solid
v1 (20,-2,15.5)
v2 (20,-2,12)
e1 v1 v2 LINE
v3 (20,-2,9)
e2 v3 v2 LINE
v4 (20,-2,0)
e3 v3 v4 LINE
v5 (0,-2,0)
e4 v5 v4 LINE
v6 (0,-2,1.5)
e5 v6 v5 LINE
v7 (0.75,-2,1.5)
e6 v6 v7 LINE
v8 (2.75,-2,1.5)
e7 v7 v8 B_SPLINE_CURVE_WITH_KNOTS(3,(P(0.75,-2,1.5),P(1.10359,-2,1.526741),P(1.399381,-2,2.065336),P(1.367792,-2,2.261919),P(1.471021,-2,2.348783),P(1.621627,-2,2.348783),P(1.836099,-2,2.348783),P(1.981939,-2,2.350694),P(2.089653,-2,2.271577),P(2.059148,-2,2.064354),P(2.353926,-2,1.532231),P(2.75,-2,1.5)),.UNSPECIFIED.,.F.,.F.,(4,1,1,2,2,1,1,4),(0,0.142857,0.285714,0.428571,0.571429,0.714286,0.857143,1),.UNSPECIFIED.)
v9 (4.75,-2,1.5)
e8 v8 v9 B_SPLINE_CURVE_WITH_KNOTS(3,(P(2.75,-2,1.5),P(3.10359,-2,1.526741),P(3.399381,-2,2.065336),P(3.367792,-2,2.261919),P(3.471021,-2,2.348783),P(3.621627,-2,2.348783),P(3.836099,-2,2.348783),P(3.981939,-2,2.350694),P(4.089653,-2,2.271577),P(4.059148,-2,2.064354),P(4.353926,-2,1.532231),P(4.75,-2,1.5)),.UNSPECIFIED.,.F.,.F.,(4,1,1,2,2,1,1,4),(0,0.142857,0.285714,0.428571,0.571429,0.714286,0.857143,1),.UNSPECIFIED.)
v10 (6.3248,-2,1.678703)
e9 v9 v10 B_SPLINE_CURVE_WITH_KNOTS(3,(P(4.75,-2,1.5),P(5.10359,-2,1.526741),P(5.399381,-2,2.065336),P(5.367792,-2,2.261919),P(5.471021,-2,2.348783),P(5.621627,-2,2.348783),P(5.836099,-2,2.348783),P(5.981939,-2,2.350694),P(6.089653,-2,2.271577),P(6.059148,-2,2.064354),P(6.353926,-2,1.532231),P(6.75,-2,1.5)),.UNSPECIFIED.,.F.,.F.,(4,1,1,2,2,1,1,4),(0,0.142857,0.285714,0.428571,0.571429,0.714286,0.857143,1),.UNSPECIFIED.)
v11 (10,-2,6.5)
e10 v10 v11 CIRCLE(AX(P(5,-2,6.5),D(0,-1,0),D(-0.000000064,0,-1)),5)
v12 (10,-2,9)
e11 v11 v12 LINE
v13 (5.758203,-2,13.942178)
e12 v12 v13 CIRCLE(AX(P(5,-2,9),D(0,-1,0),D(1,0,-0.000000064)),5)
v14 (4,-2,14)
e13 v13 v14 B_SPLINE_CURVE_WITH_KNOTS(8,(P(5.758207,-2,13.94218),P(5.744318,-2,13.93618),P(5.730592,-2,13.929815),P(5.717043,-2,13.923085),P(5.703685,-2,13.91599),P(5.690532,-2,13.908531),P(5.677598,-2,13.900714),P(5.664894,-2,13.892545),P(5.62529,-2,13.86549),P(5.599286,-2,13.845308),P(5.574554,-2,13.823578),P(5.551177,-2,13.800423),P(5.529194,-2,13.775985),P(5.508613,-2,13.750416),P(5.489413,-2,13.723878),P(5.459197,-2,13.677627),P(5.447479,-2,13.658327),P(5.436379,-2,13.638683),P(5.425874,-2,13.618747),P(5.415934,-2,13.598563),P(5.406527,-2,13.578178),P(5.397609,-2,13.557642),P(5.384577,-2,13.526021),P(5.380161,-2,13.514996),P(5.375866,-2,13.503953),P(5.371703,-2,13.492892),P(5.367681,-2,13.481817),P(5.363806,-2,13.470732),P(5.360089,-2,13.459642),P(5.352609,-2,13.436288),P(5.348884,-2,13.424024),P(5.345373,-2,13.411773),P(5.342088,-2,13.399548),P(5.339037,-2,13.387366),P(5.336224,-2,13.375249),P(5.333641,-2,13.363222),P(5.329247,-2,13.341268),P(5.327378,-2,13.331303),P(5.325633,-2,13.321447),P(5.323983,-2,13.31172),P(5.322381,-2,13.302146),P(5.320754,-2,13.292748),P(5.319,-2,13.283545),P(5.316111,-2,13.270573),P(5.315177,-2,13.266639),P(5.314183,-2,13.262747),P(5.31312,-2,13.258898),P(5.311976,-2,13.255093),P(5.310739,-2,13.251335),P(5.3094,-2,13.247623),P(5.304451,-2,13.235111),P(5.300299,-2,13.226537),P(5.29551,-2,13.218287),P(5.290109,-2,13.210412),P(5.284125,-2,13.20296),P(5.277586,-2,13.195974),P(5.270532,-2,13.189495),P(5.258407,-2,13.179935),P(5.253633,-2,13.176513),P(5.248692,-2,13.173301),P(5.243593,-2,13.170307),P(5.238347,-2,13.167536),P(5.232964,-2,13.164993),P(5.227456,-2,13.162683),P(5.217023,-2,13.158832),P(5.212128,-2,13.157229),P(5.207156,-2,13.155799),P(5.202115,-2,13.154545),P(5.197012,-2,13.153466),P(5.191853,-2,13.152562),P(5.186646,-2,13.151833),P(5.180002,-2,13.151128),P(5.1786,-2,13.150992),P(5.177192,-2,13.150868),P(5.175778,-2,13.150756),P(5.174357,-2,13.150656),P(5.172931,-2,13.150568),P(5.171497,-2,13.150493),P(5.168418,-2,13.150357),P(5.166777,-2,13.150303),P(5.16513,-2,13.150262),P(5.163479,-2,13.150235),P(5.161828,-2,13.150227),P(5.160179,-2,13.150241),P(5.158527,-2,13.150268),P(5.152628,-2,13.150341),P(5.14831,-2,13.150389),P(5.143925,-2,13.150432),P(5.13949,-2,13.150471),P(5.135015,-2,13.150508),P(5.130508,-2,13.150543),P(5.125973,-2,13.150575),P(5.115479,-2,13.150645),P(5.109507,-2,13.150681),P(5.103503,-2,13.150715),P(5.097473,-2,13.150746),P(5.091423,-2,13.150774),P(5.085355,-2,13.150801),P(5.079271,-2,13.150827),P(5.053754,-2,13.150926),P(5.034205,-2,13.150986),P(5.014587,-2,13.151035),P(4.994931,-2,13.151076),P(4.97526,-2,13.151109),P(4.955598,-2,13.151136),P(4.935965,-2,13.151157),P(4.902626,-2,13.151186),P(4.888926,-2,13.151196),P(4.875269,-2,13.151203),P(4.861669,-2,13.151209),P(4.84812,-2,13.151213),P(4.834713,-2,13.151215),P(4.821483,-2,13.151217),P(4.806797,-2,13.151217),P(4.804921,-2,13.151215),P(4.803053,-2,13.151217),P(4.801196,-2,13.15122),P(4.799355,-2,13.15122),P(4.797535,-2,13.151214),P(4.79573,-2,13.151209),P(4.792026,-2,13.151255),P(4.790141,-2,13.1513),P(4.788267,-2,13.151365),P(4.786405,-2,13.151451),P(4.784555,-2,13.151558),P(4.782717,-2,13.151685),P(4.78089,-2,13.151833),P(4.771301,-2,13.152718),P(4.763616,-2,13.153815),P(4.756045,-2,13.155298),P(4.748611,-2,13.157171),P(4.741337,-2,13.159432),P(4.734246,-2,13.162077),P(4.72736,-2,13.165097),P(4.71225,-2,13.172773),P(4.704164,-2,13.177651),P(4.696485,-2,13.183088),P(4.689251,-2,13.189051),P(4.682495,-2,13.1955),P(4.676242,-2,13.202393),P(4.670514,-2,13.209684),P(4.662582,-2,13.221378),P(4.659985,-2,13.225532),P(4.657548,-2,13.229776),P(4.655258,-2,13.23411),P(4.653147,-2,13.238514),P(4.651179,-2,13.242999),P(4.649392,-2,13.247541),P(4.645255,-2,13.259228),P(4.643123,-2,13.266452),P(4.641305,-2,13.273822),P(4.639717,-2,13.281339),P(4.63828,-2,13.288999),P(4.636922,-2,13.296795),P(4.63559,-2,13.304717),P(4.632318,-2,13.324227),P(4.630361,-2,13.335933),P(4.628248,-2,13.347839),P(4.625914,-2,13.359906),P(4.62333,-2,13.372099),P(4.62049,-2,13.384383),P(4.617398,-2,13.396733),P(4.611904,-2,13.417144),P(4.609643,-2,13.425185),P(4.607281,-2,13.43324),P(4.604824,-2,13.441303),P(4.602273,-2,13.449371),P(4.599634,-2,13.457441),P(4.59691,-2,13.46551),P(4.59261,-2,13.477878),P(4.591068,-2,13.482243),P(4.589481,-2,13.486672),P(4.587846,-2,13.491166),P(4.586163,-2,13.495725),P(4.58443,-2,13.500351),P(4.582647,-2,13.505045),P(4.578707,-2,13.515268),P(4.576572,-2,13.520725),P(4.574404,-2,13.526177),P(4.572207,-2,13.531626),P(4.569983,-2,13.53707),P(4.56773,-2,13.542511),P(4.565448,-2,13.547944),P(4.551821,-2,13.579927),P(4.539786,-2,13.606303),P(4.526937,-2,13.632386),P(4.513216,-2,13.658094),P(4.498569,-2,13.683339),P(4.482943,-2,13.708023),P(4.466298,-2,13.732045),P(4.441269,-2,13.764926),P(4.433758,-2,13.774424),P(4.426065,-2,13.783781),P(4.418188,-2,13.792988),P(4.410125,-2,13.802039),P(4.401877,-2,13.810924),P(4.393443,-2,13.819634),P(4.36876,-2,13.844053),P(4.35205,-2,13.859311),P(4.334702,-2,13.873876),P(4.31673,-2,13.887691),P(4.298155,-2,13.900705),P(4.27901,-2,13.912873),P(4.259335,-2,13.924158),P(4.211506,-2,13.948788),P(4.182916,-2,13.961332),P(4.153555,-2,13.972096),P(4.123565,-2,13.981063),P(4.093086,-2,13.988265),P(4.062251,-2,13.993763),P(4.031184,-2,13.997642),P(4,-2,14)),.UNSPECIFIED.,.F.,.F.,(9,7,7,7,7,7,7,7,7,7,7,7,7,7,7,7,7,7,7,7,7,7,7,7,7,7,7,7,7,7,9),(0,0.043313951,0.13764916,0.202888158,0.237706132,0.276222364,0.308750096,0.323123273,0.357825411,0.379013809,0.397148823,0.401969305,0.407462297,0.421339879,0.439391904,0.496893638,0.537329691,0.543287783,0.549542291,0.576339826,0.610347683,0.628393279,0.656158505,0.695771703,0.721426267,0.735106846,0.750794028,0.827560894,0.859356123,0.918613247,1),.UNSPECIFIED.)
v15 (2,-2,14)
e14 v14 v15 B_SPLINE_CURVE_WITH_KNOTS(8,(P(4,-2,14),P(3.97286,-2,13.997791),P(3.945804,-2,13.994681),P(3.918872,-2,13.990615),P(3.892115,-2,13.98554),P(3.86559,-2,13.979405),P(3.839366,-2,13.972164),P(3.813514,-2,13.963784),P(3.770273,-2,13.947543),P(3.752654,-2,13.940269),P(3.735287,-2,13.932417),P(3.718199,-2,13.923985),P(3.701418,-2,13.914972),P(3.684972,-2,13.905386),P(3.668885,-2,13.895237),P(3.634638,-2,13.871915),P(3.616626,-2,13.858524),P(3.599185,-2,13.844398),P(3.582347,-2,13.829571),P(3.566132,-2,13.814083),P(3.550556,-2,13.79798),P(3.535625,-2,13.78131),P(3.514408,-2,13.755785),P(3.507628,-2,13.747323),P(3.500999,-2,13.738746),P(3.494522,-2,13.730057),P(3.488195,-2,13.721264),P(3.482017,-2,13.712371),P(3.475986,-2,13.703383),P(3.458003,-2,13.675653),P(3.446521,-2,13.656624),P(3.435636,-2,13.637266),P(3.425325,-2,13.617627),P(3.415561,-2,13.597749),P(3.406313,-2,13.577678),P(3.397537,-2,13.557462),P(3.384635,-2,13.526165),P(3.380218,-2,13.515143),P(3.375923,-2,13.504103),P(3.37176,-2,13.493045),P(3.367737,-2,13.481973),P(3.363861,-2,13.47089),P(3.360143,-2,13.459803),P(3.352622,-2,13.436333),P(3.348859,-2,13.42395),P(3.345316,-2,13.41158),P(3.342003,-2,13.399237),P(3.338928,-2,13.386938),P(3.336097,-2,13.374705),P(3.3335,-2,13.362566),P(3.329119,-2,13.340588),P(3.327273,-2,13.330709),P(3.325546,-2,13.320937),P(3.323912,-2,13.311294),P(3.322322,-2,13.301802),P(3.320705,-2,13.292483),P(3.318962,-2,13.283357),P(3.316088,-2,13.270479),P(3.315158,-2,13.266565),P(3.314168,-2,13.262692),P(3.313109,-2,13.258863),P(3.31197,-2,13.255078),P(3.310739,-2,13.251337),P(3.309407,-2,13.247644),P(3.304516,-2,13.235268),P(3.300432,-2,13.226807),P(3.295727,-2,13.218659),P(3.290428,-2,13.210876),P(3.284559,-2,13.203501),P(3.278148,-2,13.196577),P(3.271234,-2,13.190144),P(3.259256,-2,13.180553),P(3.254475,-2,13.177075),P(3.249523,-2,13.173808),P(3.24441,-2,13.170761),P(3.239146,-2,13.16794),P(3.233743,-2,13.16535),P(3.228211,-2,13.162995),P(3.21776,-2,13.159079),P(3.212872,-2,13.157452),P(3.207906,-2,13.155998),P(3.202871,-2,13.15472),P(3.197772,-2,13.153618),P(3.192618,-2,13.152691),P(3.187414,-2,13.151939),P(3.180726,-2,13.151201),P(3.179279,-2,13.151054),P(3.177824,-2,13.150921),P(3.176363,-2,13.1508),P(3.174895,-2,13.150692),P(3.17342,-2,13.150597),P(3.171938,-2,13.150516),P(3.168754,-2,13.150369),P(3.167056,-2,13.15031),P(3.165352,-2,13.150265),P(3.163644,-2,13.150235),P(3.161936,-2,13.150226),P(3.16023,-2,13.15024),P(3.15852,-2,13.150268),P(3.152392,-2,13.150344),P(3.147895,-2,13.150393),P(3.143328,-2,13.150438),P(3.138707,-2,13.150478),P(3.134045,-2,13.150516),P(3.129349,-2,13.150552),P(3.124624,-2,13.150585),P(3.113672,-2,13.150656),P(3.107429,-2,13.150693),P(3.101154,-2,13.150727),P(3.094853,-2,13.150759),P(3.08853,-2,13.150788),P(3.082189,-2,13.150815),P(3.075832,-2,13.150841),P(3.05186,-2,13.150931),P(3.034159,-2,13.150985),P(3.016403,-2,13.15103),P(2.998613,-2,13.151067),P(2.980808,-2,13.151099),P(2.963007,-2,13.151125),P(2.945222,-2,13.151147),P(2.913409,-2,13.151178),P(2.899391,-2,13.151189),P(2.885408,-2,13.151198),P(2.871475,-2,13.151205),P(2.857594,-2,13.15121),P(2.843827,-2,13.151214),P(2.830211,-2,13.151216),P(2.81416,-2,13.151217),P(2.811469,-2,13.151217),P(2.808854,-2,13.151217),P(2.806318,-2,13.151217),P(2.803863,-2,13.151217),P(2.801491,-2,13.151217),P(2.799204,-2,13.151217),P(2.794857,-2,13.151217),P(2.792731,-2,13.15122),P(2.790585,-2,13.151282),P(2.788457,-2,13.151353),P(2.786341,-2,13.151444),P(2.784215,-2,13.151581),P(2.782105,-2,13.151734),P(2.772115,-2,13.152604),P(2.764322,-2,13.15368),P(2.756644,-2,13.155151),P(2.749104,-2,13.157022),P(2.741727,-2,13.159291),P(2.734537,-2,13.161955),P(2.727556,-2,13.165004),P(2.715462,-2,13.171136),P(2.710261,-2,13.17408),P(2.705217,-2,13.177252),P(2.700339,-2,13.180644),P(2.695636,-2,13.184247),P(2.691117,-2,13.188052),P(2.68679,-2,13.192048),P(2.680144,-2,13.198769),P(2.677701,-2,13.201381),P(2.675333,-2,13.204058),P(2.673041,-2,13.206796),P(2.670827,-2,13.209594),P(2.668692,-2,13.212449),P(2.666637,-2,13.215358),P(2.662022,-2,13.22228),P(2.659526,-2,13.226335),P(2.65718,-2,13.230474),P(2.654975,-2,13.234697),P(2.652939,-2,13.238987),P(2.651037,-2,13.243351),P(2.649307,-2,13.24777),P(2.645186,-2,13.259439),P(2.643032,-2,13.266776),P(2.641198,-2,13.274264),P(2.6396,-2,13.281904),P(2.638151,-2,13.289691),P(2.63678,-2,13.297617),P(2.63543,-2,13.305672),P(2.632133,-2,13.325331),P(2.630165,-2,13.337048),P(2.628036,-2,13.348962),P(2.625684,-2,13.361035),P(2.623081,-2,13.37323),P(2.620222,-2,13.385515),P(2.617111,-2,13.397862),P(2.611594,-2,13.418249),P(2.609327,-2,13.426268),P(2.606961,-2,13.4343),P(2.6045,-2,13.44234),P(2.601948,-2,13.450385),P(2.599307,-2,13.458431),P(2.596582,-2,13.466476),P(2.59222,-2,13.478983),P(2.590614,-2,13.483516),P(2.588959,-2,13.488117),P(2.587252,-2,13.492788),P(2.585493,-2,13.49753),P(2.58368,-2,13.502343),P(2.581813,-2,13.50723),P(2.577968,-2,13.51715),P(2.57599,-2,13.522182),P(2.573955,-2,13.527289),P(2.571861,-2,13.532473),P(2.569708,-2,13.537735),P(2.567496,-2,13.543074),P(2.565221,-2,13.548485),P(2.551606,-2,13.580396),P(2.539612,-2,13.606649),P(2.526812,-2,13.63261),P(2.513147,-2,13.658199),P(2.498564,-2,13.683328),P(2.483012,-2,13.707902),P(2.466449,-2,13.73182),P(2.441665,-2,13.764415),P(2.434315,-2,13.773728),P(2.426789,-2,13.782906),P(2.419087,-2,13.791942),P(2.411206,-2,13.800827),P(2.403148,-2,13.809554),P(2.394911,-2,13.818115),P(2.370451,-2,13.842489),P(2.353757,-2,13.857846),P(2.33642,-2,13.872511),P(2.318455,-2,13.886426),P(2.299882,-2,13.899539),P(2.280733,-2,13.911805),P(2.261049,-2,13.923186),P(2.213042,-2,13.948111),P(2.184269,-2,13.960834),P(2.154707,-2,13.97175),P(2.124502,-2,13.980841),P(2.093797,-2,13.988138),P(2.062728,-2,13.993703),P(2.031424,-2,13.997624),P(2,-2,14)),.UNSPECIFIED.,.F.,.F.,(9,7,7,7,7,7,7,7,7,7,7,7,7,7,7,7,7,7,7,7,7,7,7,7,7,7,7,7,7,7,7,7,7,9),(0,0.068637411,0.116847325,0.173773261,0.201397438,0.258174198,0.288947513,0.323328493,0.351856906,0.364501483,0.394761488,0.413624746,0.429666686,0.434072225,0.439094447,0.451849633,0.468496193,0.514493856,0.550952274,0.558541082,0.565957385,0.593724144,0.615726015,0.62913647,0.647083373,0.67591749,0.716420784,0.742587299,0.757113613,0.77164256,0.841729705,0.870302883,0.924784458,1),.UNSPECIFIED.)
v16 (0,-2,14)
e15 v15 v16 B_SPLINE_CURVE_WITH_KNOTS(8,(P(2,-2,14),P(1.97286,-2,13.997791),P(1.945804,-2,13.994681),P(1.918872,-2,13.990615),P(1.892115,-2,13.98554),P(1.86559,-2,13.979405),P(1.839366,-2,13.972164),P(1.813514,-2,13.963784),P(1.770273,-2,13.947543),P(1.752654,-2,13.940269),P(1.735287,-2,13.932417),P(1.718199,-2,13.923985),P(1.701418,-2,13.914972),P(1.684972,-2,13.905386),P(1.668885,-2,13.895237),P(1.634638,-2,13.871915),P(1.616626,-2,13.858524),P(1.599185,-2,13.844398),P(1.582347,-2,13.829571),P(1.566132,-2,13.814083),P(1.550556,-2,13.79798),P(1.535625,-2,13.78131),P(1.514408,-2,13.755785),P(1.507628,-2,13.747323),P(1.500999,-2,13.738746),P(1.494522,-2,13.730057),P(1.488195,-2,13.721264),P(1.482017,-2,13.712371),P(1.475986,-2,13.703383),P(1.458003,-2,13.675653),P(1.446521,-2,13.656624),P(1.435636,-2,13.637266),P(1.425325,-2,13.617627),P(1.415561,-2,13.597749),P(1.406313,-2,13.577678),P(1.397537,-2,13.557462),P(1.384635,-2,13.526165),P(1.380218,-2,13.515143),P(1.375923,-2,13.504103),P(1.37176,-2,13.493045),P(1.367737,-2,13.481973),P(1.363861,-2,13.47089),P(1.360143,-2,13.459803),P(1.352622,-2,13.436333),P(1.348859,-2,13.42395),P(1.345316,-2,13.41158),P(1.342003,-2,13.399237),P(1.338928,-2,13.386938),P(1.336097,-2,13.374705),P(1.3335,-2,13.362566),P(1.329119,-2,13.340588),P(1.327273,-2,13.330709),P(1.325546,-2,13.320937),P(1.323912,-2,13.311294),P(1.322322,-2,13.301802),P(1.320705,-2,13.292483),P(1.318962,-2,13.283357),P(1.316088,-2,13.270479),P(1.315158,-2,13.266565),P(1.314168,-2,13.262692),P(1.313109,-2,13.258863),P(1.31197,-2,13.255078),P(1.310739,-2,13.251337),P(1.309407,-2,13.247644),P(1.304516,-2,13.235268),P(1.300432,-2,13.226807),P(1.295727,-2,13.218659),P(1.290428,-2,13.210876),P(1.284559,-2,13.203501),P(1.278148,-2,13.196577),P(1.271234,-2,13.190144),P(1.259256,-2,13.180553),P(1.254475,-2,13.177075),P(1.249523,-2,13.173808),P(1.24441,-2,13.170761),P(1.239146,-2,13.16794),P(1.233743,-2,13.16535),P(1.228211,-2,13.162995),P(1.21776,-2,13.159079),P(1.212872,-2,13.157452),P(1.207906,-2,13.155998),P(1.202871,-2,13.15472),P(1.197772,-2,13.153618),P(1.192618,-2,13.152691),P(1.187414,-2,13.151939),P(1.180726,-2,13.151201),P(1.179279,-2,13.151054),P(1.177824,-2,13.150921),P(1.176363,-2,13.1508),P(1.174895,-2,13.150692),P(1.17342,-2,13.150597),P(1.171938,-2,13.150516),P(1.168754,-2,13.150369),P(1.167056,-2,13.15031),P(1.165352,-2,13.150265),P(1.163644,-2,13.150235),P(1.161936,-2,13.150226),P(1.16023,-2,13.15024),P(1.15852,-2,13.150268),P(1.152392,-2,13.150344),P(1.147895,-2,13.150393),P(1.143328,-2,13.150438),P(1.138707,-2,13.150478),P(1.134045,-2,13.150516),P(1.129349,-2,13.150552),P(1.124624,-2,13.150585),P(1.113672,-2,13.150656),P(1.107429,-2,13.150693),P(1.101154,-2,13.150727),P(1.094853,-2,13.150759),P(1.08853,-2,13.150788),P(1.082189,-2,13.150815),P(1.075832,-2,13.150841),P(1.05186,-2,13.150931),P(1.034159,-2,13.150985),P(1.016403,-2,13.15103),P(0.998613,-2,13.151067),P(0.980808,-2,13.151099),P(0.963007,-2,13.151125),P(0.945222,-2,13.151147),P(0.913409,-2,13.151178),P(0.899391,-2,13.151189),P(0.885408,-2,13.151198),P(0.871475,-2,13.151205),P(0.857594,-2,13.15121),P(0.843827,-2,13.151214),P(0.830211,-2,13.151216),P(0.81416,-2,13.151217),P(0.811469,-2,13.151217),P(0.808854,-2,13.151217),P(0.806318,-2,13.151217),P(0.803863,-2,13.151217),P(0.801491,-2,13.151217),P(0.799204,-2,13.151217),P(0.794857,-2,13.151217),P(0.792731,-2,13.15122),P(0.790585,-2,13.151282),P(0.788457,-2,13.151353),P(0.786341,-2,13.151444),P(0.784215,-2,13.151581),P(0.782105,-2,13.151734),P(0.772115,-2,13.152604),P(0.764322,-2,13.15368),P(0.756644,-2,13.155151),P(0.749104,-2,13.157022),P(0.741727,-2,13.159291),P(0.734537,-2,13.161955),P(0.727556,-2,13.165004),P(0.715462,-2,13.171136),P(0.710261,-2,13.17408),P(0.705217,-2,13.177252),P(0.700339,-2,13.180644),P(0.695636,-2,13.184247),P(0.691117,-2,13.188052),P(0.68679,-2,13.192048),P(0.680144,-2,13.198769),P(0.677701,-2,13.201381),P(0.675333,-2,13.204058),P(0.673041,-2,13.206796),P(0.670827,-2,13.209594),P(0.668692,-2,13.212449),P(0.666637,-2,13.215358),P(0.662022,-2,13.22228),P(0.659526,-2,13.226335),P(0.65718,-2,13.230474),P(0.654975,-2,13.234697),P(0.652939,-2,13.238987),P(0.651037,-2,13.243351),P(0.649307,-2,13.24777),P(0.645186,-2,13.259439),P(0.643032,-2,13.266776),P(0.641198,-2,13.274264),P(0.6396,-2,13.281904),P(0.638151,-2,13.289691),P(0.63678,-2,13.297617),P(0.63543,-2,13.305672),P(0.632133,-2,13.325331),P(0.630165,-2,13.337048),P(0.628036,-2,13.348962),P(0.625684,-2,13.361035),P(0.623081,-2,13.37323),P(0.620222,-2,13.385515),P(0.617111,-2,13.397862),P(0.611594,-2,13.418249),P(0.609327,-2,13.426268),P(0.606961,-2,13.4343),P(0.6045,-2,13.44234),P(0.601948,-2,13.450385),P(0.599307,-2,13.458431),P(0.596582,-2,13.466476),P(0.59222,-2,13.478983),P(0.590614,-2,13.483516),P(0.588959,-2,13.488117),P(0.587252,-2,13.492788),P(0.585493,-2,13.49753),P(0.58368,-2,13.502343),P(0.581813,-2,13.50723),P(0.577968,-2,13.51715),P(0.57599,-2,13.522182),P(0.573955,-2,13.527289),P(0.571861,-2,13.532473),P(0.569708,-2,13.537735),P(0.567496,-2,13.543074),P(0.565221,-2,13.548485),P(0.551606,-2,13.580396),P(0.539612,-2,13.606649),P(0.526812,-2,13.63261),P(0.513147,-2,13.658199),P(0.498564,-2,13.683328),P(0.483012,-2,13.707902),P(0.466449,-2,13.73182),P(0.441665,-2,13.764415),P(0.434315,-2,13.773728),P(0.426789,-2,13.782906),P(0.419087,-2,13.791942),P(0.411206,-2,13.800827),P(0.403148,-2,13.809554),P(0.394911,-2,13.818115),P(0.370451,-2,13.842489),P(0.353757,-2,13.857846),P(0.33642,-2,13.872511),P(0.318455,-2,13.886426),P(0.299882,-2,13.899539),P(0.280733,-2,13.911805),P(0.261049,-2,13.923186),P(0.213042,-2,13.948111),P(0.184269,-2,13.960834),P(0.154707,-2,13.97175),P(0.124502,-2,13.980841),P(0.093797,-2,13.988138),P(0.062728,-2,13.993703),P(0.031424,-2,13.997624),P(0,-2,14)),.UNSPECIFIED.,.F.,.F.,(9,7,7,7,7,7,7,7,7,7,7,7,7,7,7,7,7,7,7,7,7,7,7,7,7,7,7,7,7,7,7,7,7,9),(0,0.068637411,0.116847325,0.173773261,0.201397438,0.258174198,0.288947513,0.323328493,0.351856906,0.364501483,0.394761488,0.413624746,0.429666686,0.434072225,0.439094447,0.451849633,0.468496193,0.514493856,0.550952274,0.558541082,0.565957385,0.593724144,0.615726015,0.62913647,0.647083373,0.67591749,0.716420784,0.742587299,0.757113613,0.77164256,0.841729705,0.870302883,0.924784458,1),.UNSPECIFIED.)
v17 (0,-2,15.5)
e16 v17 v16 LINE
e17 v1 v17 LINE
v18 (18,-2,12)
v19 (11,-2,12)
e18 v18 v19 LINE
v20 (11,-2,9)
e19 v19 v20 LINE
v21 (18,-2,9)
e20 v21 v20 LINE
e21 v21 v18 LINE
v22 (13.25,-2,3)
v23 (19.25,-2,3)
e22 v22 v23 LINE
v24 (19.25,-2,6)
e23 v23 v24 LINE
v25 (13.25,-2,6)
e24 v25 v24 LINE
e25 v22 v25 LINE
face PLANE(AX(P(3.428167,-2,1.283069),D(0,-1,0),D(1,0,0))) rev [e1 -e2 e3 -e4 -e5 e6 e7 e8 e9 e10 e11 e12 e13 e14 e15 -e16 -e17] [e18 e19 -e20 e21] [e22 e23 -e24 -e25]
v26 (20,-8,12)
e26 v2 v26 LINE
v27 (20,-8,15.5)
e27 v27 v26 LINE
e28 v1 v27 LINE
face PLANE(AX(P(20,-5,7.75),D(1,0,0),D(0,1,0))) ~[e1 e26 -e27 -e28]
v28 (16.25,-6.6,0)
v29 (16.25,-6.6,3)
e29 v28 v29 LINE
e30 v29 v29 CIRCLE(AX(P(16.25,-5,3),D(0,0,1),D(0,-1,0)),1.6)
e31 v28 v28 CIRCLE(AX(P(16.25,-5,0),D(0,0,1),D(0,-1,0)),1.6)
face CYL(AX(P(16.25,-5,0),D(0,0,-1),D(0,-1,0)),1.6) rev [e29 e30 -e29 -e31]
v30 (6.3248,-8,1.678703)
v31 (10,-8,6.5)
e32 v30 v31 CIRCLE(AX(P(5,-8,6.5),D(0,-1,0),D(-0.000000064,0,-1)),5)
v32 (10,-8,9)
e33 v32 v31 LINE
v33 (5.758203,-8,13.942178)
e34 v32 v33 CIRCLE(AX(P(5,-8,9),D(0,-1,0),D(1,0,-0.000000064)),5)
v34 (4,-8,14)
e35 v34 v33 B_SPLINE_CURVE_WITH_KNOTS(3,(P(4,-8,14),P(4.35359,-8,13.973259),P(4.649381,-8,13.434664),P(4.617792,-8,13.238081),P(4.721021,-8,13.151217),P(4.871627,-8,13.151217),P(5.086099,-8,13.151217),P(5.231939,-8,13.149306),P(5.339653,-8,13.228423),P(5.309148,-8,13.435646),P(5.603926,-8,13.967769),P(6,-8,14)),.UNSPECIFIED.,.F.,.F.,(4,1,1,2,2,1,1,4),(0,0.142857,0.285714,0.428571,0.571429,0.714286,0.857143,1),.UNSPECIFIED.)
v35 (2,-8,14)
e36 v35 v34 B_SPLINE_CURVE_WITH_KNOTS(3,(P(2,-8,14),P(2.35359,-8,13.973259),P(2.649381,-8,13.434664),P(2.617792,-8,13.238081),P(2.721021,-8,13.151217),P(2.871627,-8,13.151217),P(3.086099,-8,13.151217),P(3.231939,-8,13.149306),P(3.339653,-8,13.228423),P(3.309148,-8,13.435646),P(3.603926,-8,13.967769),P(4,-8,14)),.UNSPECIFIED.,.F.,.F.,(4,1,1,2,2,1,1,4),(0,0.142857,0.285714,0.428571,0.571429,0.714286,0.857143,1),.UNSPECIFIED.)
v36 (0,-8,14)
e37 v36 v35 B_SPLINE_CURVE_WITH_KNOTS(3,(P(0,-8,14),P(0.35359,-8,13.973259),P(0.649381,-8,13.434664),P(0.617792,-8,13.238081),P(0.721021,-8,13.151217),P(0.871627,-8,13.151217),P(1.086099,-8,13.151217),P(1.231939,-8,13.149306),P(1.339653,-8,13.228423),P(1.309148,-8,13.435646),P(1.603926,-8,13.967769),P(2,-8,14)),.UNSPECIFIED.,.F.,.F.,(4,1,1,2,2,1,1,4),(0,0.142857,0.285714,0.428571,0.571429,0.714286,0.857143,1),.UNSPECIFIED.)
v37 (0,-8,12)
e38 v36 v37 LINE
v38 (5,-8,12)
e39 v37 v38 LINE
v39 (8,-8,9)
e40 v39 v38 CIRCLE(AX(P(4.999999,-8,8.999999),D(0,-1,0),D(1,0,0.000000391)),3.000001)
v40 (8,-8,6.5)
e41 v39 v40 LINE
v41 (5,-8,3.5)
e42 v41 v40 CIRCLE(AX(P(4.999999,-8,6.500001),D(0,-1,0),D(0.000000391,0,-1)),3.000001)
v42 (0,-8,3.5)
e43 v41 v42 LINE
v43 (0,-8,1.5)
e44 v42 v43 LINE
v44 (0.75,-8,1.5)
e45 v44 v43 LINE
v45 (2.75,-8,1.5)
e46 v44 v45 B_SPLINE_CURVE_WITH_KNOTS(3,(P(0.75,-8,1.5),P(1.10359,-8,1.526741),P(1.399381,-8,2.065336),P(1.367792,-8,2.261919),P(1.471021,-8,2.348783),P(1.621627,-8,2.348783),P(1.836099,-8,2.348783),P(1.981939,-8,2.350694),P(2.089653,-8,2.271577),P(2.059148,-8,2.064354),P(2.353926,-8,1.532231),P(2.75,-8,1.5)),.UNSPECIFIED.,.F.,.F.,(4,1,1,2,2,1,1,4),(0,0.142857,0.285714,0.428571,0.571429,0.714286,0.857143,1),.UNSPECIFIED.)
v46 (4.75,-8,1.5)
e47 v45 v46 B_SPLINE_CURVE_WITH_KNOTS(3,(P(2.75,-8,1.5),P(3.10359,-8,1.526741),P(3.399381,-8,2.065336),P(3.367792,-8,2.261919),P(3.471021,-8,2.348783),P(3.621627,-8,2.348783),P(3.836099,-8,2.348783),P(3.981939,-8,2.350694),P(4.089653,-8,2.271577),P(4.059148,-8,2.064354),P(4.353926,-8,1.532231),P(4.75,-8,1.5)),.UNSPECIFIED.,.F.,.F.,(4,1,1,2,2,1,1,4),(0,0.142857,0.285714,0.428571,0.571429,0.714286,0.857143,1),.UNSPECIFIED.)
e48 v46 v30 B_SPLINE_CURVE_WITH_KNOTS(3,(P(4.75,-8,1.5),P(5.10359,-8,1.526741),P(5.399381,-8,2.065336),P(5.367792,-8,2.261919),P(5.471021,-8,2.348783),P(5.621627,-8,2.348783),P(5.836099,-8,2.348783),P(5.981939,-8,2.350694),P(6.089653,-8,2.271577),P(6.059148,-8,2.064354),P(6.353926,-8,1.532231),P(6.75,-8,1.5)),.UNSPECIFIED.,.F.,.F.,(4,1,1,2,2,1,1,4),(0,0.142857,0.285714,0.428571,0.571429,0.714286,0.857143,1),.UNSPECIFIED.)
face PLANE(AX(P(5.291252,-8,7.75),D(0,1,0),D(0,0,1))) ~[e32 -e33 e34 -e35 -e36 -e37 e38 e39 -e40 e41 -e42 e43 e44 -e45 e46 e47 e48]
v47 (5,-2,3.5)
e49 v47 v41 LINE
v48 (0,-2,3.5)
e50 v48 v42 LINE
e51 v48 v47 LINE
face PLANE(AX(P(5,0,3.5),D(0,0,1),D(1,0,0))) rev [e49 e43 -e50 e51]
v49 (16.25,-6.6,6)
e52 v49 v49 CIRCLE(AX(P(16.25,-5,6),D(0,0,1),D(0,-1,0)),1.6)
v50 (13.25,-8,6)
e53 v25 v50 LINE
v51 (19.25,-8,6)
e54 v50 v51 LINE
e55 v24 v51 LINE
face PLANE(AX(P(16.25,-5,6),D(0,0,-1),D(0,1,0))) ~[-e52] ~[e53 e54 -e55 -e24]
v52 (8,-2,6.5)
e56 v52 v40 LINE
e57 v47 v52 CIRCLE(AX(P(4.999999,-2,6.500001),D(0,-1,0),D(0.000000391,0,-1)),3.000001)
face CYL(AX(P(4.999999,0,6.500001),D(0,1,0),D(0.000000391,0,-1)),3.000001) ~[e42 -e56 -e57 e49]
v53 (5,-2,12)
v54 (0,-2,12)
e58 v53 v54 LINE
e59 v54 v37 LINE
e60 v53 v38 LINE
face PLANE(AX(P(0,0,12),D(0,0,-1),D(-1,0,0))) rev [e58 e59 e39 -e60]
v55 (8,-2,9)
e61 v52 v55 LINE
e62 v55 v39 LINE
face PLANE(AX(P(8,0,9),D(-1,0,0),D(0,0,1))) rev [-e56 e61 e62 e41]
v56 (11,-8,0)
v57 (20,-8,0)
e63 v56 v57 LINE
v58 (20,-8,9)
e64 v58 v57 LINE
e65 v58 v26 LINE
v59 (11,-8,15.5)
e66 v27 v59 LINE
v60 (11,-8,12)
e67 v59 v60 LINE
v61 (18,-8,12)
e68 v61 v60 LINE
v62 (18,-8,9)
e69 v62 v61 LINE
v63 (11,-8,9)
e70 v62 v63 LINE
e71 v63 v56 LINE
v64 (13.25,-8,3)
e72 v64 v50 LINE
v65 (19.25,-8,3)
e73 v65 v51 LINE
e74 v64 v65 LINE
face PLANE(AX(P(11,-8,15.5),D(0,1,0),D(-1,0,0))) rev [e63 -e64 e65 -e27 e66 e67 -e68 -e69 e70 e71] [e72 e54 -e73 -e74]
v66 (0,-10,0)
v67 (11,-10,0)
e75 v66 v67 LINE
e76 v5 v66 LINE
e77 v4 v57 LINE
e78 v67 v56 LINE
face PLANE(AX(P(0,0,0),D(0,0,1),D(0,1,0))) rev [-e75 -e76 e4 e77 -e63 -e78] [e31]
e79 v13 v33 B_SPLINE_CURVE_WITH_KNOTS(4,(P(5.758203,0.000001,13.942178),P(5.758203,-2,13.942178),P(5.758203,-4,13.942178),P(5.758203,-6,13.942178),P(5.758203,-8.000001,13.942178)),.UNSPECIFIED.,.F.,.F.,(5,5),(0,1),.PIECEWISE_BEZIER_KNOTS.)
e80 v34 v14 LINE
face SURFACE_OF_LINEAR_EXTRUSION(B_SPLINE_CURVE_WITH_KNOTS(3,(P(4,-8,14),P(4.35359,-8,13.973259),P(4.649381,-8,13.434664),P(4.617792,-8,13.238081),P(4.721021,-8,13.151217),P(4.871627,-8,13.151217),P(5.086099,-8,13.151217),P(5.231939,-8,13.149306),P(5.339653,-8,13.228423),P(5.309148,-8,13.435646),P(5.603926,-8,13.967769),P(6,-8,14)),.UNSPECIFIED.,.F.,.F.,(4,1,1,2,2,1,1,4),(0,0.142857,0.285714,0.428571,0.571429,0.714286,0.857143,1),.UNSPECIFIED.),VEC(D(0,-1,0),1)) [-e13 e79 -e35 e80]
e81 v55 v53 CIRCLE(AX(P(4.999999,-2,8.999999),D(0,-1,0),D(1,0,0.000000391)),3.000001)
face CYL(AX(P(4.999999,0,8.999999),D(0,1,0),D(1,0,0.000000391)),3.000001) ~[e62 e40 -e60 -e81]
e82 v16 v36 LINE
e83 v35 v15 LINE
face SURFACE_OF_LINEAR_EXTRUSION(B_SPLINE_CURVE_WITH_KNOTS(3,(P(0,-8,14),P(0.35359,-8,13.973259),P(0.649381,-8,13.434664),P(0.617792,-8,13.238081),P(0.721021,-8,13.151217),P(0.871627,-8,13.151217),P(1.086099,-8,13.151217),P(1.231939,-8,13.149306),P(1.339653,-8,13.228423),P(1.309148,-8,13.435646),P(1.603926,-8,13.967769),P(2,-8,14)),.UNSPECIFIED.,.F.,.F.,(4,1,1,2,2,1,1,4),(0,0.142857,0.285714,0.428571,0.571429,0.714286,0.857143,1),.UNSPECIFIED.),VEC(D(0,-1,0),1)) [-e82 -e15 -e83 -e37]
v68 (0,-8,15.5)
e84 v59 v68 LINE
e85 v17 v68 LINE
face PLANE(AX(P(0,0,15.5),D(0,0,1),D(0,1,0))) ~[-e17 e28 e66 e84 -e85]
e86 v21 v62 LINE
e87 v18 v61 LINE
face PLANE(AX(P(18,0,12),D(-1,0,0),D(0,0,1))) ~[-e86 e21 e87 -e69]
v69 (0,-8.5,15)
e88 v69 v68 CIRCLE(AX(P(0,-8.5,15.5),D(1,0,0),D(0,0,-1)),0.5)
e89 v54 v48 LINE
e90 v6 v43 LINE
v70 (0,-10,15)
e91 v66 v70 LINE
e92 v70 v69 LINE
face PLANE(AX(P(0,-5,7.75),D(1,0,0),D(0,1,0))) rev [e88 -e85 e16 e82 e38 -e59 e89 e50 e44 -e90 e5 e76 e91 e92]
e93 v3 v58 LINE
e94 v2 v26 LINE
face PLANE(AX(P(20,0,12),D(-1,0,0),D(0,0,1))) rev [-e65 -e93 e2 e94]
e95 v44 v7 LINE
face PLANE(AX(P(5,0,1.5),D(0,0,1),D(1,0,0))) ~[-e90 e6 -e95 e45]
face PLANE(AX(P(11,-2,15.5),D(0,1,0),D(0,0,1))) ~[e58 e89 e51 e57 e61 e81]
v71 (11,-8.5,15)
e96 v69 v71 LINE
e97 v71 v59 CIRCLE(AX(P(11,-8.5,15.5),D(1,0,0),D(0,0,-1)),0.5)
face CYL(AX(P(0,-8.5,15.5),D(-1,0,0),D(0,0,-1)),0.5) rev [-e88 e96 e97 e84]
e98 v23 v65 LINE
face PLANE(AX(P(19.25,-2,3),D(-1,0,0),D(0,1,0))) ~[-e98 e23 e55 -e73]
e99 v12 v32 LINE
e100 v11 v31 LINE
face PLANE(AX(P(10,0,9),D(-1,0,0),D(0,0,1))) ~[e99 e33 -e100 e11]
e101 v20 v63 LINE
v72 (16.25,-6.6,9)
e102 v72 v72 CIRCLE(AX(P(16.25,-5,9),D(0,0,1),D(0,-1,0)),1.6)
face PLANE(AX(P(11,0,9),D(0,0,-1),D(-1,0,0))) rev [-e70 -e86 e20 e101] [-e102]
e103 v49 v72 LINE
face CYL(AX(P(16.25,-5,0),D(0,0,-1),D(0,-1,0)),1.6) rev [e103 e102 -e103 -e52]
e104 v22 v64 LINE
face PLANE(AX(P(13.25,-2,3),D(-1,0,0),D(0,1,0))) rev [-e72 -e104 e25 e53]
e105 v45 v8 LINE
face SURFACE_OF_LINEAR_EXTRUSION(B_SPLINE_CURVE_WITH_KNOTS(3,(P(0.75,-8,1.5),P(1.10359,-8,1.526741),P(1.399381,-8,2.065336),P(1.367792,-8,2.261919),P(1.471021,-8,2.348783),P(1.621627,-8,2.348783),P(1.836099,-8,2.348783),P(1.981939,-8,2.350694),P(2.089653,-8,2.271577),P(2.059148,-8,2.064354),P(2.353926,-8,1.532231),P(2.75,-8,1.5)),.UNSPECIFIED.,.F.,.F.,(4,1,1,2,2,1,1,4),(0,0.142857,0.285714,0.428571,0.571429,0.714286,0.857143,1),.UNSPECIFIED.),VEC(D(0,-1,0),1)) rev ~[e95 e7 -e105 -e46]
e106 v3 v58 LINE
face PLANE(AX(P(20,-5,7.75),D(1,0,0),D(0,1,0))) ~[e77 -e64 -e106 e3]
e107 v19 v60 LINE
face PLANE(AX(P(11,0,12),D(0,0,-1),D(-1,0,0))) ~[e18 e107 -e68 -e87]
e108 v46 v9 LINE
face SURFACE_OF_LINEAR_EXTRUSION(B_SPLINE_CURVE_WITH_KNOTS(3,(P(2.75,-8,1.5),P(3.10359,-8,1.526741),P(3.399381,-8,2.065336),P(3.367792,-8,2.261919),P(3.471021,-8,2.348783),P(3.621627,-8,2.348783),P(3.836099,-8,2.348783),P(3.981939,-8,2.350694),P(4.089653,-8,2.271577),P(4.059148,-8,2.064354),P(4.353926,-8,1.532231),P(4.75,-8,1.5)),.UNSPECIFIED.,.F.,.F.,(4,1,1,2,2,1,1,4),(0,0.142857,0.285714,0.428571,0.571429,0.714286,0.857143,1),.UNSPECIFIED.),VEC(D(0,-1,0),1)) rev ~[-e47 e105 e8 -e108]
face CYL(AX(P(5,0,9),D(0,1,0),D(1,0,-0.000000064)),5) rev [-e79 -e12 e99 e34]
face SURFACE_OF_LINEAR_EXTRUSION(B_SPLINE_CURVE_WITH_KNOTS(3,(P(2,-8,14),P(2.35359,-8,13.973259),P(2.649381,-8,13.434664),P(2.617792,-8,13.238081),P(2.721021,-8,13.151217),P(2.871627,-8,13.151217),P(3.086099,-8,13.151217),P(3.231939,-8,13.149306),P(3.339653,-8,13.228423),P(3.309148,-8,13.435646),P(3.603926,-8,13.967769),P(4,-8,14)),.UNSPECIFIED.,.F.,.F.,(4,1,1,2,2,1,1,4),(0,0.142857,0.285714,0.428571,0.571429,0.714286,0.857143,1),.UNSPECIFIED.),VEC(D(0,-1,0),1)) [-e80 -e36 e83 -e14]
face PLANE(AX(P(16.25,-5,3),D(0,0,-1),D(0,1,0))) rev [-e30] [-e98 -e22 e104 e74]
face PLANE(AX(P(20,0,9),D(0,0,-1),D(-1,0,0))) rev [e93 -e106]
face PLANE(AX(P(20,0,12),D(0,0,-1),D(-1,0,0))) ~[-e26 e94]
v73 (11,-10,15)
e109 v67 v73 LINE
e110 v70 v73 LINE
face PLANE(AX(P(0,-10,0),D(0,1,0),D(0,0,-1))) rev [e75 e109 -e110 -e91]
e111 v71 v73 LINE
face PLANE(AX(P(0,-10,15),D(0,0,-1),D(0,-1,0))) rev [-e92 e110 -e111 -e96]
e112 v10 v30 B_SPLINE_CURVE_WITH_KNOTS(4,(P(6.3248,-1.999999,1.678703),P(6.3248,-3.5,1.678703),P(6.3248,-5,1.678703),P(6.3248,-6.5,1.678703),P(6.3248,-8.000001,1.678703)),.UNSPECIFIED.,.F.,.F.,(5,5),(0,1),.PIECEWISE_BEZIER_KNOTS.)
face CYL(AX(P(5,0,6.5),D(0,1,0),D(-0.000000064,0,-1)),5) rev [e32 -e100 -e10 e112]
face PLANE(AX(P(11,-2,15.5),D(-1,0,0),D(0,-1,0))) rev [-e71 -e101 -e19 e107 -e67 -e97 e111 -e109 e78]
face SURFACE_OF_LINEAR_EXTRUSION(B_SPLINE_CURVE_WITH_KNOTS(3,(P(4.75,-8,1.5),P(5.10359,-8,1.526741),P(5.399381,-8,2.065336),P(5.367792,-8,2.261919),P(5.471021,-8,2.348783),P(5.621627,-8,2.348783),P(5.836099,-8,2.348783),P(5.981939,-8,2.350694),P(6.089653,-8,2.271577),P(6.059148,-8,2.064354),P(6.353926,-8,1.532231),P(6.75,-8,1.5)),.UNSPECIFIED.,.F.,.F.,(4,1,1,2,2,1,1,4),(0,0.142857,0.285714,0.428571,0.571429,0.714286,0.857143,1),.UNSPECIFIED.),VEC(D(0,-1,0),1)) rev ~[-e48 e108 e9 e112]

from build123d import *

# Parameters (mm, degrees)
SKETCH_W        = 10
SKETCH_H        = 15.5
PAD_DEPTH       = 20
POCKET001_DEPTH = 20.001
SKETCH003_W     = 3
SKETCH003_H     = 7
SKETCH003_H_2   = 1.990637
POCKET002_DEPTH = 10.001
SKETCH004_W     = 2
SKETCH004_H     = 9
POCKET003_DEPTH = 15.501
SKETCH005_W     = 2
SKETCH005_H     = 9
POCKET004_DEPTH = 15.501
POCKET005_DEPTH = 8
PAD001_DEPTH    = 8
SKETCH010_R     = 1.6
POCKET006_DEPTH = 10
SKETCH013_W     = 2
SKETCH013_H     = 20
POCKET008_DEPTH = 11.001
SKETCH014_W     = 6
SKETCH014_H     = 6
POCKET009_DEPTH = 3
PAD002_DEPTH    = 6


with BuildPart() as framebase:
    # Sketch → Pad (new body)
    with BuildSketch(Plane.YZ):
        with Locations((5, 7.75)):
            Rectangle(SKETCH_W, SKETCH_H)
    extrude(amount=PAD_DEPTH)

    # Sketch002 (on DatumPlane) → Pocket001 (cut, through all)
    with BuildSketch(Plane(origin=(0, 10, 15.5), x_dir=(0, 1, 0), z_dir=(-1, 0, 0))):
        with BuildLine():
            ThreePointArc((0, -0.5), (0.5, 0), (0, 0.5))
            Line((0, 0.5), (-1.5, 0.5))
            ThreePointArc((-1.5, 0.5), (-2, 0), (-1.5, -0.5))
            Line((0, -0.5), (-1.5, -0.5))
        make_face()
    extrude(amount=-POCKET001_DEPTH, mode=Mode.SUBTRACT)

    # Sketch003 (on DatumPlane) → Pocket002 (cut, through all)
    with BuildSketch(Plane(origin=(20, 0, 15.5), x_dir=(0, 0, -1), z_dir=(0, -1, 0))):
        with Locations((5, -5.5)):
            Rectangle(SKETCH003_W, SKETCH003_H)
        with Locations((5, 0.995318)):
            Rectangle(SKETCH003_W, SKETCH003_H_2)
    extrude(amount=-POCKET002_DEPTH, mode=Mode.SUBTRACT)

    # Sketch004 (on DatumPlane) → Pocket003 (cut, through all)
    with BuildSketch(Plane(origin=(20, 0, 15.5), x_dir=(0, -1, 0), z_dir=(0, 0, 1))):
        with Locations((-1, -4.5)):
            Rectangle(SKETCH004_W, SKETCH004_H)
    extrude(amount=-POCKET003_DEPTH, mode=Mode.SUBTRACT)

    # Sketch005 (on DatumPlane) → Pocket004 (cut, through all)
    with BuildSketch(Plane(origin=(20, 10, 15.5), x_dir=(0, -1, 0), z_dir=(0, 0, 1))):
        with Locations((1, -4.5)):
            Rectangle(SKETCH005_W, SKETCH005_H)
    extrude(amount=-POCKET004_DEPTH, mode=Mode.SUBTRACT)

    # Sketch006 (on DatumPlane) → Pocket005 (cut)
    with BuildSketch(Plane(origin=(0, 0, 15.5), x_dir=(0, 0, -1), z_dir=(0, -1, 0))):
        with BuildLine():
            Line((1.5, 0), (3.5, 0))
            Line((3.5, 0), (3.5, 5))
            ThreePointArc((6.5, 8), (4.37868, 7.12132), (3.5, 5))
            Line((6.5, 8), (9, 8))
            ThreePointArc((12, 5), (11.12132, 7.12132), (9, 8))
            Line((12, 5), (12, 0))
            Line((12, 0), (14, 0))
            Line((14, 5), (14, 0))
            ThreePointArc((14, 5), (12.535534, 8.535534), (9, 10))
            Line((6.5, 10), (9, 10))
            ThreePointArc((6.5, 10), (2.964466, 8.535534), (1.5, 5))
            Line((1.5, 5), (1.5, 0))
        make_face()
    extrude(amount=-POCKET005_DEPTH, mode=Mode.SUBTRACT)

    # Sketch008 (on DatumPlane) → Pad001 (join)
    with BuildSketch(Plane(origin=(0, 8, 14), x_dir=(1, 0, 0), z_dir=(0, -1, 0))):
        with BuildLine():
            add(Edge.make_bspline(
                [(0, 0), (0.35359, -0.026741), (0.649381, -0.565336), (0.617792, -0.761919), (0.721021, -0.848783), (0.871627, -0.848783), (1.086099, -0.848783), (1.231939, -0.850694), (1.339653, -0.771577), (1.309148, -0.564354), (1.603926, -0.032231), (2, 0)],
                knots=[0, 0, 0, 0, 0.142857, 0.285714, 0.428571, 0.428571, 0.571429, 0.571429, 0.714286, 0.857143, 1, 1, 1, 1], degree=3))
            add(Edge.make_bspline(
                [(2, 0), (2.35359, -0.026741), (2.649381, -0.565336), (2.617792, -0.761919), (2.721021, -0.848783), (2.871627, -0.848783), (3.086099, -0.848783), (3.231939, -0.850694), (3.339653, -0.771577), (3.309148, -0.564354), (3.603926, -0.032231), (4, 0)],
                knots=[0, 0, 0, 0, 0.142857, 0.285714, 0.428571, 0.428571, 0.571429, 0.571429, 0.714286, 0.857143, 1, 1, 1, 1], degree=3))
            add(Edge.make_bspline(
                [(4, 0), (4.35359, -0.026741), (4.649381, -0.565336), (4.617792, -0.761919), (4.721021, -0.848783), (4.871627, -0.848783), (5.086099, -0.848783), (5.231939, -0.850694), (5.339653, -0.771577), (5.309148, -0.564354), (5.603926, -0.032231), (6, 0)],
                knots=[0, 0, 0, 0, 0.142857, 0.285714, 0.428571, 0.428571, 0.571429, 0.571429, 0.714286, 0.857143, 1, 1, 1, 1], degree=3))
            Line((6, 0), (6, 1))
            Line((6, 1), (0, 1))
            Line((0, 1), (0, 0))
        make_face()
    extrude(amount=PAD001_DEPTH)

    # Sketch010 (on DatumPlane) → Pocket006 (cut)
    with BuildSketch(Plane(origin=(20, 0, 0), x_dir=(0, 1, 0), z_dir=(0, 0, -1))):
        with Locations((5, -3.75)):
            Circle(SKETCH010_R)
    extrude(amount=-POCKET006_DEPTH, mode=Mode.SUBTRACT)

    # Sketch013 (on DatumPlane) → Pocket008 (cut, through all)
    with BuildSketch(Plane(origin=(11, 2, 15.5), x_dir=(0, -1, 0), z_dir=(1, 0, 0))):
        with Locations((1, 10)):
            Rectangle(SKETCH013_W, SKETCH013_H)
    extrude(amount=-POCKET008_DEPTH, mode=Mode.SUBTRACT)

    # Sketch014 (on DatumPlane) → Pocket009 (cut)
    with BuildSketch(Plane(origin=(20, 0, 3), x_dir=(0, 1, 0), z_dir=(0, 0, -1))):
        with Locations((5, -3.75)):
            Rectangle(SKETCH014_W, SKETCH014_H)
    extrude(amount=-POCKET009_DEPTH, mode=Mode.SUBTRACT)

    # Sketch012 (on DatumPlane) → Pad002 (join)
    with BuildSketch(Plane(origin=(0, 8, 1.5), x_dir=(1, 0, 0), z_dir=(0, -1, 0))):
        with BuildLine():
            add(Edge.make_bspline(
                [(0.75, 0), (1.10359, 0.026741), (1.399381, 0.565336), (1.367792, 0.761919), (1.471021, 0.848783), (1.621627, 0.848783), (1.836099, 0.848783), (1.981939, 0.850694), (2.089653, 0.771577), (2.059148, 0.564354), (2.353926, 0.032231), (2.75, 0)],
                knots=[0, 0, 0, 0, 0.142857, 0.285714, 0.428571, 0.428571, 0.571429, 0.571429, 0.714286, 0.857143, 1, 1, 1, 1], degree=3))
            Line((0.75, 0), (0, 0))
            Line((0, 0), (0, -1))
            Line((0, -1), (6.75, -1))
            Line((6.75, -1), (6.75, 0))
            add(Edge.make_bspline(
                [(4.75, 0), (5.10359, 0.026741), (5.399381, 0.565336), (5.367792, 0.761919), (5.471021, 0.848783), (5.621627, 0.848783), (5.836099, 0.848783), (5.981939, 0.850694), (6.089653, 0.771577), (6.059148, 0.564354), (6.353926, 0.032231), (6.75, 0)],
                knots=[0, 0, 0, 0, 0.142857, 0.285714, 0.428571, 0.428571, 0.571429, 0.571429, 0.714286, 0.857143, 1, 1, 1, 1], degree=3))
            add(Edge.make_bspline(
                [(2.75, 0), (3.10359, 0.026741), (3.399381, 0.565336), (3.367792, 0.761919), (3.471021, 0.848783), (3.621627, 0.848783), (3.836099, 0.848783), (3.981939, 0.850694), (4.089653, 0.771577), (4.059148, 0.564354), (4.353926, 0.032231), (4.75, 0)],
                knots=[0, 0, 0, 0, 0.142857, 0.285714, 0.428571, 0.428571, 0.571429, 0.571429, 0.714286, 0.857143, 1, 1, 1, 1], degree=3))
        make_face()
    extrude(amount=PAD002_DEPTH)


with BuildPart() as framebase_front_mirror:
    # Part__Mirroring: instance of FrameBase
    add(framebase.part.mirror(Plane(origin=(0, 0, 0), x_dir=(1, 0, 0), z_dir=(0, 1, 0))))


solid = framebase_front_mirror.part
